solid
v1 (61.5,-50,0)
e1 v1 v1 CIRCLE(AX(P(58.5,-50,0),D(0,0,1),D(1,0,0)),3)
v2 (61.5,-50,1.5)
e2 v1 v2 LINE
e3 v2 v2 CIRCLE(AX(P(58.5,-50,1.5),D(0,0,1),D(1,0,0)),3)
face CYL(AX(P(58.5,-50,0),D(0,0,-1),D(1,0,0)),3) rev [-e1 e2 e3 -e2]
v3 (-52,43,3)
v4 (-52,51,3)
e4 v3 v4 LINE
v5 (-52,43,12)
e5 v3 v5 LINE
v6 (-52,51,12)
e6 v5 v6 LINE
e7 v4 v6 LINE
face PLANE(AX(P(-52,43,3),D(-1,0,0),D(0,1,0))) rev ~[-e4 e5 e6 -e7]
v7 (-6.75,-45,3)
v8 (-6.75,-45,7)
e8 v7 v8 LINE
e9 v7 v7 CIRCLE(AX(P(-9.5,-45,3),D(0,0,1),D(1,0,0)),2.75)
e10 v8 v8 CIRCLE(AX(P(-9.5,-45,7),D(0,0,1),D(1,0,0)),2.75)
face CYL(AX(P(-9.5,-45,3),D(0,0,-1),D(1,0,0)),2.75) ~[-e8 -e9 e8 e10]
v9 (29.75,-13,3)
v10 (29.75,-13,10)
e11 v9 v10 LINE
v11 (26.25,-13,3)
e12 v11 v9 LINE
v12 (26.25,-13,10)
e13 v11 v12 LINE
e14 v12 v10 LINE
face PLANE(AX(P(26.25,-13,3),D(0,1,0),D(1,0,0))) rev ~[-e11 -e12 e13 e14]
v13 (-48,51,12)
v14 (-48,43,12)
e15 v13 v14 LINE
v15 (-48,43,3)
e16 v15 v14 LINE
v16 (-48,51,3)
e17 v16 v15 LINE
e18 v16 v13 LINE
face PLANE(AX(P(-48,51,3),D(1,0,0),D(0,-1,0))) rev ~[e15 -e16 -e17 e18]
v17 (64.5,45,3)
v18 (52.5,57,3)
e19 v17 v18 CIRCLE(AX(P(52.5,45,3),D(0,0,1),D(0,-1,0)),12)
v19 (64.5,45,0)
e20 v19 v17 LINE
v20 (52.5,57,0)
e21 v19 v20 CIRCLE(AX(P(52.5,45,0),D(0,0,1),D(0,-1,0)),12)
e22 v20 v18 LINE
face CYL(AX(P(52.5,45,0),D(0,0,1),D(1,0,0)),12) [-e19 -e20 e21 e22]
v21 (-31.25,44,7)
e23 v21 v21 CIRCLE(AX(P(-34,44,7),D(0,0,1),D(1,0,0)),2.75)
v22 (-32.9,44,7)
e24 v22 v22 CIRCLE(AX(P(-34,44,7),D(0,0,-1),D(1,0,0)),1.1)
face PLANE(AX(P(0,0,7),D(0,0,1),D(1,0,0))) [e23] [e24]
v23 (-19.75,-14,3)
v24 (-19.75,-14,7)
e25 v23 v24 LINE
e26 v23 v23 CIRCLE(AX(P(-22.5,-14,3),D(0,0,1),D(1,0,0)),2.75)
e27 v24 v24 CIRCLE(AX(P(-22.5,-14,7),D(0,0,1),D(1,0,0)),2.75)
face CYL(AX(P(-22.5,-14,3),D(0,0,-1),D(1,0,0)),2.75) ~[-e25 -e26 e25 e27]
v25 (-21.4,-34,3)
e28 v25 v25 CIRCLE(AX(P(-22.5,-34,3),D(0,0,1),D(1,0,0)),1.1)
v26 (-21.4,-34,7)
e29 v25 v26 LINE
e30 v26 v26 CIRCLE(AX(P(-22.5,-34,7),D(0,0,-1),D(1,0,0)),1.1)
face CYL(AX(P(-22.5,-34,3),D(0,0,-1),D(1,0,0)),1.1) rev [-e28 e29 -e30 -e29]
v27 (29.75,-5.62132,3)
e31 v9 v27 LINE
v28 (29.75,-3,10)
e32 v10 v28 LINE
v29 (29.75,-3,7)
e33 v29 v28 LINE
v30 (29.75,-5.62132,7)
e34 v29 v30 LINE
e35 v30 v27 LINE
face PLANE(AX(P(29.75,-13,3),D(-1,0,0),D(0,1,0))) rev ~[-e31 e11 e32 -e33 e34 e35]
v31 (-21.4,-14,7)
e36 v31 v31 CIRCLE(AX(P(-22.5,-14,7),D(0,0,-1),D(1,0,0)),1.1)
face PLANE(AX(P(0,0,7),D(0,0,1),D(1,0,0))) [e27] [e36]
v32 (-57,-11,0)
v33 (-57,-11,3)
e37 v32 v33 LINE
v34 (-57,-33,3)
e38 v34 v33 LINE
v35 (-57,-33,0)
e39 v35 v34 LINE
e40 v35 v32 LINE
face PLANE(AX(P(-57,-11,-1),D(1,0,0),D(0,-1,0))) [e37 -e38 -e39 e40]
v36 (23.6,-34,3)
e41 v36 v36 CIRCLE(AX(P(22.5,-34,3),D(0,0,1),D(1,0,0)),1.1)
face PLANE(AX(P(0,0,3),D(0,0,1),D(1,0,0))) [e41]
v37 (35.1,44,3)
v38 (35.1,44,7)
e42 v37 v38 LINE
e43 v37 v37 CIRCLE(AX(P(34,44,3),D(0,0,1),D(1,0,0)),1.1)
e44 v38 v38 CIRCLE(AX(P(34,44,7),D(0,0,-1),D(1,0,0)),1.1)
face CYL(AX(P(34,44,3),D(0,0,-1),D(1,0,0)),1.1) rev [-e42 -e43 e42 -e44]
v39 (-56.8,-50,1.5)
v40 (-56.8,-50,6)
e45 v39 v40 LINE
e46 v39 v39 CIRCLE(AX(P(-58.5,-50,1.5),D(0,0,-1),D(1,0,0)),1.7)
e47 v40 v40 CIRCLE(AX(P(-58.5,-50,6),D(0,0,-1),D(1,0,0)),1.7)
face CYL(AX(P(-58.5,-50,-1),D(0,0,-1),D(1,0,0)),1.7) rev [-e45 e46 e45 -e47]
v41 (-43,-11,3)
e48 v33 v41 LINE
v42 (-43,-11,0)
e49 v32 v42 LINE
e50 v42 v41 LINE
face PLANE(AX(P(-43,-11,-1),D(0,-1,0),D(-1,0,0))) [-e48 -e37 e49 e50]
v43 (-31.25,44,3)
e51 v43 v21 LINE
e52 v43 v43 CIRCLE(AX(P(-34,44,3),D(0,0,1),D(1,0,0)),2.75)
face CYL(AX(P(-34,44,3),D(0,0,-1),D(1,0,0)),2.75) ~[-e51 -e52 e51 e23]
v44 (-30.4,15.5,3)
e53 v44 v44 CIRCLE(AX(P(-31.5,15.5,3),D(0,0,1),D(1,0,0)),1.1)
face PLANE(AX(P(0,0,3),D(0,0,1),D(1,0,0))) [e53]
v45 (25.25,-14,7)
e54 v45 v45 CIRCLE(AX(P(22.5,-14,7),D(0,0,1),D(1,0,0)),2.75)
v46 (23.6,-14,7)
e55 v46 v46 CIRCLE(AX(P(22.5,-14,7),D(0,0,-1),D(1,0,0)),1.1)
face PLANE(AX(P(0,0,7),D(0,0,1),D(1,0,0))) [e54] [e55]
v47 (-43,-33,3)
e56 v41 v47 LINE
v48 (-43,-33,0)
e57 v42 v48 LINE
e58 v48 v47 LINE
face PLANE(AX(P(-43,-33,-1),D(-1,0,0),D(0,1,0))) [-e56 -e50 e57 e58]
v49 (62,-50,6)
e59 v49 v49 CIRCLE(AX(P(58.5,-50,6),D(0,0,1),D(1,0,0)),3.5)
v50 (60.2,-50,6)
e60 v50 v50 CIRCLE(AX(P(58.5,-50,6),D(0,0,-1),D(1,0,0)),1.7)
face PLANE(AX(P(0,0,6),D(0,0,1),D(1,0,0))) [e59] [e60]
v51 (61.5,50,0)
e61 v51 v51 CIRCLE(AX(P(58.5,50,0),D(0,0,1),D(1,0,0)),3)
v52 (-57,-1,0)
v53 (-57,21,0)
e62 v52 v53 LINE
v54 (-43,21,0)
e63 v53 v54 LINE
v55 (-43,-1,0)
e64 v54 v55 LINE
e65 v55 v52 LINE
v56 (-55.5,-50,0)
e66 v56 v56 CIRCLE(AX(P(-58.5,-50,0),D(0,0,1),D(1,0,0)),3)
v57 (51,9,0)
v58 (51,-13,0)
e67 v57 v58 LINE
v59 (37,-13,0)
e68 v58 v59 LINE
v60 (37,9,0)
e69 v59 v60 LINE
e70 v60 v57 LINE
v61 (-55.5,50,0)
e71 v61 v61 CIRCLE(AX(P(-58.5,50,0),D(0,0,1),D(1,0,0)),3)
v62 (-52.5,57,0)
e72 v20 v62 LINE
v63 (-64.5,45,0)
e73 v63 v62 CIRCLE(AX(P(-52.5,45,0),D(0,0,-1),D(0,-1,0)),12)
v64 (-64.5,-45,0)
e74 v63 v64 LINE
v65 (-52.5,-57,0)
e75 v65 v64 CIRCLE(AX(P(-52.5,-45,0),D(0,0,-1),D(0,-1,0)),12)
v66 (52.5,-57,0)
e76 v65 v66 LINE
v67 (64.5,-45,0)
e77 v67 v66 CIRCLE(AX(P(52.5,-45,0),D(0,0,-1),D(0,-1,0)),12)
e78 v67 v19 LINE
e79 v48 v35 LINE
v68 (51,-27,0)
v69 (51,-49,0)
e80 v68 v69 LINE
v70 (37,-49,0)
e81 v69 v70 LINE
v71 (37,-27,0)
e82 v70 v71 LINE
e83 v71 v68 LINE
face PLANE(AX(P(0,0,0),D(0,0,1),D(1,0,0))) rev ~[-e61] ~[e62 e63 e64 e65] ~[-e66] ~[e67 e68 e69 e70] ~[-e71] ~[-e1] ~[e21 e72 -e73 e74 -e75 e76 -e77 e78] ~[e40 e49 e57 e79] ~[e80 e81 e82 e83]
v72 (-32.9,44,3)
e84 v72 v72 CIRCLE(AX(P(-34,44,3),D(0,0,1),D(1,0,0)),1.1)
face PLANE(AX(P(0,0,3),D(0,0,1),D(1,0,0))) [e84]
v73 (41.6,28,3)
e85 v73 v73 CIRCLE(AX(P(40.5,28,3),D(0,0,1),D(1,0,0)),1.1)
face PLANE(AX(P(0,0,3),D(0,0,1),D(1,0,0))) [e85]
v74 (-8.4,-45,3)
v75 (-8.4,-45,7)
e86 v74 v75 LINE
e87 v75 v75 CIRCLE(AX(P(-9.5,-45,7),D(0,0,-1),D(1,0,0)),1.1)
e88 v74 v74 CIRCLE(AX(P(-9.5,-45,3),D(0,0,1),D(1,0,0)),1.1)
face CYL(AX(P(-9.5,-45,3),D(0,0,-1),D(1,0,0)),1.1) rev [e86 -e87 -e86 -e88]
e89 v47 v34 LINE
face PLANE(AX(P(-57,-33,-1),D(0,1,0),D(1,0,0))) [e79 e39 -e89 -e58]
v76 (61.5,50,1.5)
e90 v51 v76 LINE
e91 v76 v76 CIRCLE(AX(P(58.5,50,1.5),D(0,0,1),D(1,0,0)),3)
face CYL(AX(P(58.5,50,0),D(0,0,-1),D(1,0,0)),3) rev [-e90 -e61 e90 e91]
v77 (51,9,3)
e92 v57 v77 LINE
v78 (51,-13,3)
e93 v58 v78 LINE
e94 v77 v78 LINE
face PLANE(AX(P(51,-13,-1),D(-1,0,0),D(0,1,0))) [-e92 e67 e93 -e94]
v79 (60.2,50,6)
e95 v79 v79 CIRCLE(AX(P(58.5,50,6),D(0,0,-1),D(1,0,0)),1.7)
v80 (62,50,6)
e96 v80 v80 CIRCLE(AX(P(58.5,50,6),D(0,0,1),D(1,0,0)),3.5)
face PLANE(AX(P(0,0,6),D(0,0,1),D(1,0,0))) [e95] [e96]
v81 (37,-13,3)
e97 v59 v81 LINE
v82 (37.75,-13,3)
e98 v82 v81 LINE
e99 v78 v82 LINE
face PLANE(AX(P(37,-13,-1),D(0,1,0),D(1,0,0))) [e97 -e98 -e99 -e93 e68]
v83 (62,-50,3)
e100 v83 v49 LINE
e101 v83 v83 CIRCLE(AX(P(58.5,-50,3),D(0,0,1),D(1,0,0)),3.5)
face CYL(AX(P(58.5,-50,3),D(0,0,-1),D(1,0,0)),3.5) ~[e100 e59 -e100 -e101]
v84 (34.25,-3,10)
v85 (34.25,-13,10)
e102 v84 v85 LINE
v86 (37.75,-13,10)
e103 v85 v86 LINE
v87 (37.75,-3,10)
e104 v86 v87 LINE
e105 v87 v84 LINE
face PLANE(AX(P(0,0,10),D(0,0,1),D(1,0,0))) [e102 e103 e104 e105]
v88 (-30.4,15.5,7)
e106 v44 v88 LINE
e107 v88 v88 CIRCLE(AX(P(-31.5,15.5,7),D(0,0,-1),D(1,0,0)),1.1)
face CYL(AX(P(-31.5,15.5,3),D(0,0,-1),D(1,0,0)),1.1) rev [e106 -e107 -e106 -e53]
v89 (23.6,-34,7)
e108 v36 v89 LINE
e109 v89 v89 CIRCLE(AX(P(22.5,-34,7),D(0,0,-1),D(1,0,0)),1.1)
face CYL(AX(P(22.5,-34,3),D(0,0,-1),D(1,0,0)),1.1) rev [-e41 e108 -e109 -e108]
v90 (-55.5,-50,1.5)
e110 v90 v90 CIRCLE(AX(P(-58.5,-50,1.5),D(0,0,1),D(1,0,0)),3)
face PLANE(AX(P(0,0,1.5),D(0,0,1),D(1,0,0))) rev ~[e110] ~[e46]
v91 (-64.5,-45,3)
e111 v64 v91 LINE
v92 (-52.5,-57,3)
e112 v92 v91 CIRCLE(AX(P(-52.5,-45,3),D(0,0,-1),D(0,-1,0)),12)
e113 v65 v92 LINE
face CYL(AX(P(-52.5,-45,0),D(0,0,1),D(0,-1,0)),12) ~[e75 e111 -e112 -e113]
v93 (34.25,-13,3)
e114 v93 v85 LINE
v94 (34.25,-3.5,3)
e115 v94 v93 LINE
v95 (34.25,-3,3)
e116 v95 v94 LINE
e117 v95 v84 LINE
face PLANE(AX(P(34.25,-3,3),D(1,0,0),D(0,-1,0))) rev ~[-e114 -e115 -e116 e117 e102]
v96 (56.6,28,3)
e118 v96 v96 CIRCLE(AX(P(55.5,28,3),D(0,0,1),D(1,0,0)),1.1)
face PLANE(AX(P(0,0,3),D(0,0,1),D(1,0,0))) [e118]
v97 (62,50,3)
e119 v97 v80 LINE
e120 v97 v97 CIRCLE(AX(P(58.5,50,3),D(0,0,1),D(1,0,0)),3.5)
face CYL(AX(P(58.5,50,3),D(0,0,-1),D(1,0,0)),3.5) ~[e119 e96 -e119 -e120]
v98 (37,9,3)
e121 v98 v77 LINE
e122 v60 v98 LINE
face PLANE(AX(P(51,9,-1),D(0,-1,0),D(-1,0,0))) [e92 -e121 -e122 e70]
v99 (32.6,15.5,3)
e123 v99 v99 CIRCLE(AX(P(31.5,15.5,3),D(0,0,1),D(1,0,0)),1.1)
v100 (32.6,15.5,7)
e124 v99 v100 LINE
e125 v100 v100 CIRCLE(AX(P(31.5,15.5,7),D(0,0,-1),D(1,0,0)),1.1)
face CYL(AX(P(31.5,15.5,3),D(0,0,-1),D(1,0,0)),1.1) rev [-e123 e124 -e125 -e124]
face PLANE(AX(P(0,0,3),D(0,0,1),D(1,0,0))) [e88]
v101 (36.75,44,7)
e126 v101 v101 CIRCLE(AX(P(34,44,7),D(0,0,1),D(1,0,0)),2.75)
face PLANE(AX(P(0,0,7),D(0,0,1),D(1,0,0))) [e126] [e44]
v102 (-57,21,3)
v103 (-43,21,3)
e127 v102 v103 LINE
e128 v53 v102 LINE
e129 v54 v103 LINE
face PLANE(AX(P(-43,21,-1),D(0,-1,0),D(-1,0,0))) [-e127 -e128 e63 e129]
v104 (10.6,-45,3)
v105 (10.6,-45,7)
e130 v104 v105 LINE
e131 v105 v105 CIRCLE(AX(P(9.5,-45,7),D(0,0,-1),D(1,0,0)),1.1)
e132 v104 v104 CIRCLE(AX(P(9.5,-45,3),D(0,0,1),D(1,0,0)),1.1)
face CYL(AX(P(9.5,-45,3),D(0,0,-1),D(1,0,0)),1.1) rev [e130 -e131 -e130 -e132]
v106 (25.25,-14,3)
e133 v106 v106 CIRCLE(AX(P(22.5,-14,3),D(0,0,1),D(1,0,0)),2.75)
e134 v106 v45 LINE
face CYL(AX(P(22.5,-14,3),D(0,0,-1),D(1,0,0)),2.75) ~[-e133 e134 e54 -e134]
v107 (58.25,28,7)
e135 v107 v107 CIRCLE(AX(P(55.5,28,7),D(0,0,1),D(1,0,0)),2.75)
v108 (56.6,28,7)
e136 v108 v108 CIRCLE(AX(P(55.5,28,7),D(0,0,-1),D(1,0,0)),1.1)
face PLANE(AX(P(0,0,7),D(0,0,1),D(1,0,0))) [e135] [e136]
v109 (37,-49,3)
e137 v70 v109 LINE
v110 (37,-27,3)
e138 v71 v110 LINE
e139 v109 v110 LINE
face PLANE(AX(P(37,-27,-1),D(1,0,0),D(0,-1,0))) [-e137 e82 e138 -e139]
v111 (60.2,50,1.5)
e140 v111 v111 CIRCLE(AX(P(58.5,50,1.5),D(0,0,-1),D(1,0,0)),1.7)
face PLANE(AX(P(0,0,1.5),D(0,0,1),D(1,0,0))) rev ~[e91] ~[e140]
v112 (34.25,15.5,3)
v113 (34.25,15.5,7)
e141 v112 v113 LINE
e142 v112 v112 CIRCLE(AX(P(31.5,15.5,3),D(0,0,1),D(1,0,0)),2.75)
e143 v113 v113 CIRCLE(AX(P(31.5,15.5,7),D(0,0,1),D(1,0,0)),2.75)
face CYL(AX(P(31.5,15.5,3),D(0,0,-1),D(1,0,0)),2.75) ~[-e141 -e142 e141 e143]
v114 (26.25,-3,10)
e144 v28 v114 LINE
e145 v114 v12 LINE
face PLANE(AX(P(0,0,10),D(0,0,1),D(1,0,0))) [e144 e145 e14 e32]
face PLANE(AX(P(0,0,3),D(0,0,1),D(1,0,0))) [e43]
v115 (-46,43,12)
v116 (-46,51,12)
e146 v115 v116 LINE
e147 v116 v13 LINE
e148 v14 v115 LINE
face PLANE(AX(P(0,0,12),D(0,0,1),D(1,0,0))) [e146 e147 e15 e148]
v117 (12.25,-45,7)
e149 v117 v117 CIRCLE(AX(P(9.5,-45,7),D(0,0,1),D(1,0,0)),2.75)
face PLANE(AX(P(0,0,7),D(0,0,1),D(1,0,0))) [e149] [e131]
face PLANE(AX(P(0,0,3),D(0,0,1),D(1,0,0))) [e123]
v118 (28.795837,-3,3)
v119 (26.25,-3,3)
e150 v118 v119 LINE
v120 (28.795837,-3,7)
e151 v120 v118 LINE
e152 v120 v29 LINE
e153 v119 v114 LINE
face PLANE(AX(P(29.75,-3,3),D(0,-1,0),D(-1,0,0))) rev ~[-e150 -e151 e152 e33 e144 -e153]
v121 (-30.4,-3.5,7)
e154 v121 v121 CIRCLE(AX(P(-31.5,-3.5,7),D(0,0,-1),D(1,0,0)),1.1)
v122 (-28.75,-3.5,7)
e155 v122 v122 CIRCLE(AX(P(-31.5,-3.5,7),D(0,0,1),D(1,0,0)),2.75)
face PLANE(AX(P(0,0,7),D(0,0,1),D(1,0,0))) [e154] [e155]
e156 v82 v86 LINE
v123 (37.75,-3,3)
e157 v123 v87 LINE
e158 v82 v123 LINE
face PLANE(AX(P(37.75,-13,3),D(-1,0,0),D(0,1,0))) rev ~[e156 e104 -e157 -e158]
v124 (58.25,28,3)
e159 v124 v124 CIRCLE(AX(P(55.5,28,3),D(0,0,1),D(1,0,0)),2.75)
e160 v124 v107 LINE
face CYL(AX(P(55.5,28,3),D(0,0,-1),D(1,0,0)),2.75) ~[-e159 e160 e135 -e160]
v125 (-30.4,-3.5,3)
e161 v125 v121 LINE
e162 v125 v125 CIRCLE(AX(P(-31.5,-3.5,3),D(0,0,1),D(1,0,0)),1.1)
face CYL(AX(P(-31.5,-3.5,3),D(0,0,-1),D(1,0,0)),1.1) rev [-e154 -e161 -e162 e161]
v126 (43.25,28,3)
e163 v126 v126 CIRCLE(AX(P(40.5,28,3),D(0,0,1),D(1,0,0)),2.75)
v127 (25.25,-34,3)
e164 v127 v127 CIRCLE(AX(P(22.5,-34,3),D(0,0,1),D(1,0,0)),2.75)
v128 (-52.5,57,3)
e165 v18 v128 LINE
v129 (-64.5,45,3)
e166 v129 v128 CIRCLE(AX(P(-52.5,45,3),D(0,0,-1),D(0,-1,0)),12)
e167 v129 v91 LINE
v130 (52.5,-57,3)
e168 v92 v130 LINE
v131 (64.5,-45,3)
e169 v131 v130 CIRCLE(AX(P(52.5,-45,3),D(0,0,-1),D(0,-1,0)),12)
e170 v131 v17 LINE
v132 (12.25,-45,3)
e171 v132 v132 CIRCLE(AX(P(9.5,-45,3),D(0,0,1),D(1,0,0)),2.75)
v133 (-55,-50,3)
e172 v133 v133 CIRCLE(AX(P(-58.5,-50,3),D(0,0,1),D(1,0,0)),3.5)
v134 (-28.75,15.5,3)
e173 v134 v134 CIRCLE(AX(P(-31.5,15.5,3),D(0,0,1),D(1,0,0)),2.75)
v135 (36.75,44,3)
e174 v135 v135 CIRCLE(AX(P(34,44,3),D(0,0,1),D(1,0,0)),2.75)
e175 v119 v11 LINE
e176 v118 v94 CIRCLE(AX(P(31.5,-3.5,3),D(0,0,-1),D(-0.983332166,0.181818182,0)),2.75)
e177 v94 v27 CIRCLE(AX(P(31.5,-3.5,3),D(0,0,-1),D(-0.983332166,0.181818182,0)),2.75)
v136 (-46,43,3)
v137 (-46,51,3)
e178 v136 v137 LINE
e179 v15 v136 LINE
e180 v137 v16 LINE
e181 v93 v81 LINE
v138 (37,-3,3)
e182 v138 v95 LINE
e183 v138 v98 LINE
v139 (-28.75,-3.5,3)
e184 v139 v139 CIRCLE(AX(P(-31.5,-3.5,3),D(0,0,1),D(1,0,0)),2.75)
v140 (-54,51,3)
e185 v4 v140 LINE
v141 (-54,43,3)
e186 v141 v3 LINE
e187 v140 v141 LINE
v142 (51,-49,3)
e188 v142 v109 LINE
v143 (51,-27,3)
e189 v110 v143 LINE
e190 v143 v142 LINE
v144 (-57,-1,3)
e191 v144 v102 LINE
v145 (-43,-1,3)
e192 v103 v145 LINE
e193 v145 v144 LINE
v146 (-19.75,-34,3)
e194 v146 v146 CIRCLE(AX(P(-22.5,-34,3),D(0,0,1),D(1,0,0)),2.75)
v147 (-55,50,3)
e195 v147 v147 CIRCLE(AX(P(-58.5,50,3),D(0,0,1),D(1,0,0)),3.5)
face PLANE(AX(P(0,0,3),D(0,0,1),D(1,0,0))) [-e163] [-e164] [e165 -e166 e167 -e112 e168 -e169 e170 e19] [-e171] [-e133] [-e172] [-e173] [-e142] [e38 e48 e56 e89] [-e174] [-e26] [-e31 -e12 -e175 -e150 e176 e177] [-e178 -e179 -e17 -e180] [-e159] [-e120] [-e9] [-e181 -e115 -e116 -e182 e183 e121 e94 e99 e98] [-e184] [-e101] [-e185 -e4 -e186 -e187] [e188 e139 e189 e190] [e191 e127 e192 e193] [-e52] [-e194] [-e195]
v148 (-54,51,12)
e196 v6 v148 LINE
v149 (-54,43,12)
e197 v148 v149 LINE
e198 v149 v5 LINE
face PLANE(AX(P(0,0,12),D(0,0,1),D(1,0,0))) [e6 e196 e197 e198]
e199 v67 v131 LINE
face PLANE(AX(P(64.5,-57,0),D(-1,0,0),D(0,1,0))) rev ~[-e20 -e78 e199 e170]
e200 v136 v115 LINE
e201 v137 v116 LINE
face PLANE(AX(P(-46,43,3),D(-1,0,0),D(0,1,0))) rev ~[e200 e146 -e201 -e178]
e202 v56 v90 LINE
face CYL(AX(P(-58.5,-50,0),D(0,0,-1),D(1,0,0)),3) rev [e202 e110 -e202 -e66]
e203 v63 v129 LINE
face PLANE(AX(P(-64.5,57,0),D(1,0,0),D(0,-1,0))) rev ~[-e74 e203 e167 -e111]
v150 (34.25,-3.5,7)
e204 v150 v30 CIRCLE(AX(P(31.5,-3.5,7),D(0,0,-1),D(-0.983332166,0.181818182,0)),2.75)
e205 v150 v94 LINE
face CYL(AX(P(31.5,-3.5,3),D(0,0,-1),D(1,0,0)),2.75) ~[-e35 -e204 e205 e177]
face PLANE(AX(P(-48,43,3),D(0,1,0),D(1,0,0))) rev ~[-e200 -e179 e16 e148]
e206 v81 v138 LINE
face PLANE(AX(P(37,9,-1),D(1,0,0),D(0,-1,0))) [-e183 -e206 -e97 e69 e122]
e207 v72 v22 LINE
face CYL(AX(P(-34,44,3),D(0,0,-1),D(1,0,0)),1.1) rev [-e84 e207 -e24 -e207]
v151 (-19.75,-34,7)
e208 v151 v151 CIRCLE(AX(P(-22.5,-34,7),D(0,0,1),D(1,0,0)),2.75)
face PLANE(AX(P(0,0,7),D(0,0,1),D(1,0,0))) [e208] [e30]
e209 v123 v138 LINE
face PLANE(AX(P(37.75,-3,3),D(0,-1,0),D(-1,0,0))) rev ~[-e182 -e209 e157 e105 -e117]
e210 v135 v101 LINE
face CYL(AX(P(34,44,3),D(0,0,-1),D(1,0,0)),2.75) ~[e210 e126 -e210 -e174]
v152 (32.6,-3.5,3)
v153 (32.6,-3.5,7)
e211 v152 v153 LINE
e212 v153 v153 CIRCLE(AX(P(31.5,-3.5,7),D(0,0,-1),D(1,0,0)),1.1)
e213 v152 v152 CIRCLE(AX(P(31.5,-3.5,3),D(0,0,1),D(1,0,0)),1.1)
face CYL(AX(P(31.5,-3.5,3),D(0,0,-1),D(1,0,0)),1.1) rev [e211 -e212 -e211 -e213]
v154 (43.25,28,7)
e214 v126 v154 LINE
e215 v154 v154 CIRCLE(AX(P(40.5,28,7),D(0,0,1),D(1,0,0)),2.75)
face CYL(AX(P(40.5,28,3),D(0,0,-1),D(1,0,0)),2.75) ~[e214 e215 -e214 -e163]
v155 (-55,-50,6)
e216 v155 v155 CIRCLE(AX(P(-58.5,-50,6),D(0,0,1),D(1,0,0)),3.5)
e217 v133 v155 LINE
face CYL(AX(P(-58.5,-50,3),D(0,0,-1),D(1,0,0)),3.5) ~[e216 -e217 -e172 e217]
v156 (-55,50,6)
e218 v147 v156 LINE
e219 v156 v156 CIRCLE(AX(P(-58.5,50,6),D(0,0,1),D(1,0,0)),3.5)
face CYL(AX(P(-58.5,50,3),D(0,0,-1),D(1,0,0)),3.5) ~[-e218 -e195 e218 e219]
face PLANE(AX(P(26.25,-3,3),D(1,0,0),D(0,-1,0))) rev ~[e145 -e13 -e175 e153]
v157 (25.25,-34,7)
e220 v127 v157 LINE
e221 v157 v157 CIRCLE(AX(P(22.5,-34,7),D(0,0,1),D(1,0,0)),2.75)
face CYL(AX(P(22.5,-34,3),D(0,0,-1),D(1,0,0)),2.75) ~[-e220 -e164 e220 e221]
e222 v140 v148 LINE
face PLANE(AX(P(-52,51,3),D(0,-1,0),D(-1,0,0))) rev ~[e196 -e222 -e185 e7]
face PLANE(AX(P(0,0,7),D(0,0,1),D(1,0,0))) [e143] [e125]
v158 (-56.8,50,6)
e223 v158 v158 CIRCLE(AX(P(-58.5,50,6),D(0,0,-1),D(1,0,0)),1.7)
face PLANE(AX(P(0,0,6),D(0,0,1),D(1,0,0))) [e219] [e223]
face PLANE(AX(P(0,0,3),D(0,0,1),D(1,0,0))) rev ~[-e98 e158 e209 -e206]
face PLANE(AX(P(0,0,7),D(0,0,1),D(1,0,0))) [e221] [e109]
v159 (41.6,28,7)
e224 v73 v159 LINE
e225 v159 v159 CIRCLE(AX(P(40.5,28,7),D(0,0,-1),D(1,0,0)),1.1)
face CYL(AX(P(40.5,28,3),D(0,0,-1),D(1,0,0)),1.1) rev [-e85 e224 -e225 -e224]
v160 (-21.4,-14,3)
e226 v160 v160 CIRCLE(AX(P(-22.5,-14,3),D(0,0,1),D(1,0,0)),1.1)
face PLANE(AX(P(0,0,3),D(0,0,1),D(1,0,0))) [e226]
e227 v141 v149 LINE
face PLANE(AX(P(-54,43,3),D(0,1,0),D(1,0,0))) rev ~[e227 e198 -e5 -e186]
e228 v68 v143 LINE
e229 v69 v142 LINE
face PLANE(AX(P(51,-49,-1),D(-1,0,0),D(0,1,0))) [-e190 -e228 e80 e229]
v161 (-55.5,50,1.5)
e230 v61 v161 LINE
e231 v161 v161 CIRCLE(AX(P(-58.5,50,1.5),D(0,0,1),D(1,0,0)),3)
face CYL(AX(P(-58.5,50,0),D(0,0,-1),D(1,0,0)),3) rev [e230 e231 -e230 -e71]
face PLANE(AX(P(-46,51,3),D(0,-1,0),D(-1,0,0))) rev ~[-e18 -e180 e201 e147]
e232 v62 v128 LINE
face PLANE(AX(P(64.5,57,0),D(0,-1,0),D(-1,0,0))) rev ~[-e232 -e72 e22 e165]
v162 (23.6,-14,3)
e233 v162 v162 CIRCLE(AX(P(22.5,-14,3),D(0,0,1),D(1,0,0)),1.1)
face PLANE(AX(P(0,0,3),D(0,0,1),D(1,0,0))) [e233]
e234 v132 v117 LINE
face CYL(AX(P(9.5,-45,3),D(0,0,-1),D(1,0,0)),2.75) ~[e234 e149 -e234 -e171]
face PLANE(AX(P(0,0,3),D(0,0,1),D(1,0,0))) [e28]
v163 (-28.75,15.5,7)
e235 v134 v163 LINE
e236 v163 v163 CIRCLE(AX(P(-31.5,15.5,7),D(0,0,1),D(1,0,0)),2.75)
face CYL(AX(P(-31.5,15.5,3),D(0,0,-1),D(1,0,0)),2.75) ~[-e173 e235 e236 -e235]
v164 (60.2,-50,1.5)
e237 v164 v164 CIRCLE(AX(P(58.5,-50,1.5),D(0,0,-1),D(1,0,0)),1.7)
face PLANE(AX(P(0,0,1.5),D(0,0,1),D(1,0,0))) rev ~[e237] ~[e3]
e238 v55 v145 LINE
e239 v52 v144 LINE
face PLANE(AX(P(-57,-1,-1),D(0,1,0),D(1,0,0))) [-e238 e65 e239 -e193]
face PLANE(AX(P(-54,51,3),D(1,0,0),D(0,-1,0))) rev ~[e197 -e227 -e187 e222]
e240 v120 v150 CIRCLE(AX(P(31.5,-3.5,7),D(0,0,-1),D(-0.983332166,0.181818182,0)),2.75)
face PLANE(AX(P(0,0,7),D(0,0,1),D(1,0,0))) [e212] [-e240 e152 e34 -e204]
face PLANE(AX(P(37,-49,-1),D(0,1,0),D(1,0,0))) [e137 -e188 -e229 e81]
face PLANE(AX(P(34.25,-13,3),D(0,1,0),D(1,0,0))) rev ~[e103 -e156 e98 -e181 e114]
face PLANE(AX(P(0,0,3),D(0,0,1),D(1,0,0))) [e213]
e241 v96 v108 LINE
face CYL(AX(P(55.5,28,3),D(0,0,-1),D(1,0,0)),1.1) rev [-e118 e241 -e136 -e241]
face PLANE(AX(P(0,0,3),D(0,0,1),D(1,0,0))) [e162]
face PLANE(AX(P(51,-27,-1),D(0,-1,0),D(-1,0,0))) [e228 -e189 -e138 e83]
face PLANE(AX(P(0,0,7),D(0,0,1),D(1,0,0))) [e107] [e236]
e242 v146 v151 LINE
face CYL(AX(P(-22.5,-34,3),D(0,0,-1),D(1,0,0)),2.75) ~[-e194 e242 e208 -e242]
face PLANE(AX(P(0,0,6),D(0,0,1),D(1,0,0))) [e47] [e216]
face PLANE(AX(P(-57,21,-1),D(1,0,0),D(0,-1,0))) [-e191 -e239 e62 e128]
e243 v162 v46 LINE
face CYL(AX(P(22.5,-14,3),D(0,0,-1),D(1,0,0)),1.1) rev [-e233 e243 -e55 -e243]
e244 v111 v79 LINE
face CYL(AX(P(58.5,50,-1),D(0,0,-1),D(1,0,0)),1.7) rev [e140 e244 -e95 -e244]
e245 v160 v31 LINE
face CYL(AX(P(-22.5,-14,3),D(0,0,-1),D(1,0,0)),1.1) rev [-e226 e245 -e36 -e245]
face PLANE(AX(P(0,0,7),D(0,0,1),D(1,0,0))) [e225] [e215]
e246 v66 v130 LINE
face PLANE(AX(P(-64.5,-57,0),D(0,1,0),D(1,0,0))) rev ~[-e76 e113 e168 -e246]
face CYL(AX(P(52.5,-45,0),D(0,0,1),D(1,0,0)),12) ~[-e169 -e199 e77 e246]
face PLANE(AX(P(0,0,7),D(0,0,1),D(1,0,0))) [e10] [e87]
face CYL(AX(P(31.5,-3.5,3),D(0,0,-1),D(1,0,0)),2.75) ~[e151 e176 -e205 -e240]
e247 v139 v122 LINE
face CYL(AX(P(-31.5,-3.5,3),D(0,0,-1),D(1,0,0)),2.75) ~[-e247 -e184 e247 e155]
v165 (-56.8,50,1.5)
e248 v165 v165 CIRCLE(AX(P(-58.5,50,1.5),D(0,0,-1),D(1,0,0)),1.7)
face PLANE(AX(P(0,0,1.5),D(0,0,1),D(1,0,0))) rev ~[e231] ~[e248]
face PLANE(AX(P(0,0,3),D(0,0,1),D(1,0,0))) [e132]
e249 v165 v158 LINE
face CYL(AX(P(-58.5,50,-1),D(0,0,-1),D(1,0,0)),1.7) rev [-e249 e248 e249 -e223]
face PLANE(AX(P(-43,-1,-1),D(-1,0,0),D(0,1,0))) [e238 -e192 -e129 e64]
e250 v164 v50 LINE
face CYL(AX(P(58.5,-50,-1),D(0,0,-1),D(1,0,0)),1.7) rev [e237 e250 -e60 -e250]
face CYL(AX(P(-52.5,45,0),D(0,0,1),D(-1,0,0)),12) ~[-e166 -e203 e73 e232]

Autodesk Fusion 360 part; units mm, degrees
sketch "Sketch1" plane through (0, 0, 0) normal (0, 0, 1) x (1, 0, 0)
  line L0 (64.5, 57) -> (-64.5, 57)
  line L1 (-64.5, 57) -> (-64.5, -57)
  line L2 (-64.5, -57) -> (64.5, -57)
  line L3 (64.5, -57) -> (64.5, 57)
extrude "Extrude1" add sketch "Sketch1" along normal blind 3
fillet "Fillet1" radius 12 4 edges at (64.5, -57, 1.5) (-64.5, -57, 1.5) (-64.5, 57, 1.5) (64.5, 57, 1.5)
sketch "Sketch2" plane through (0, 0, 0) normal (0, 0, 1) x (1, 0, 0)
  line L0 (-43, 21) -> (-57, 21)
  line L1 (-57, 21) -> (-57, -1)
  line L2 (-57, -1) -> (-43, -1)
  line L3 (-43, -1) -> (-43, 21)
extrude "Extrude2" cut sketch "Sketch2" along normal blind 5 from surface at -1
sketch "Sketch3" plane through (0, 0, 0) normal (0, 0, 1) x (1, 0, 0)
  line L0 (-43, -11) -> (-57, -11)
  line L1 (-57, -11) -> (-57, -33)
  line L2 (-57, -33) -> (-43, -33)
  line L3 (-43, -33) -> (-43, -11)
extrude "Extrude3" cut sketch "Sketch3" along normal blind 5 from surface at -1
sketch "Sketch4" plane through (0, 0, 0) normal (0, 0, 1) x (1, 0, 0)
  line L0 (51, -27) -> (37, -27)
  line L1 (37, -27) -> (37, -49)
  line L2 (37, -49) -> (51, -49)
  line L3 (51, -49) -> (51, -27)
extrude "Extrude4" cut sketch "Sketch4" along normal blind 5 from surface at -1
sketch "Sketch5" plane through (0, 0, 0) normal (0, 0, 1) x (1, 0, 0)
  line L0 (51, 9) -> (37, 9)
  line L1 (37, 9) -> (37, -13)
  line L2 (37, -13) -> (51, -13)
  line L3 (51, -13) -> (51, 9)
extrude "Extrude5" cut sketch "Sketch5" along normal blind 5 from surface at -1
sketch "Sketch6" plane through (0, 0, 0) normal (0, 0, 1) x (1, 0, 0)
  circle A0 centre (-58.5, 50) radius 3.5
extrude "Extrude6" add sketch "Sketch6" along normal blind 3 from surface at 3
sketch "Sketch7" plane through (0, 0, 0) normal (0, 0, 1) x (1, 0, 0)
  circle A0 centre (-58.5, 50) radius 1.7
extrude "Extrude7" cut sketch "Sketch7" along normal blind 8 from surface at -1
sketch "Sketch8" plane through (0, 0, 0) normal (0, 0, 1) x (1, 0, 0)
  circle A0 centre (-58.5, 50) radius 3
extrude "Extrude8" cut sketch "Sketch8" along normal blind 1.5
sketch "Sketch9" plane through (0, 0, 0) normal (0, 0, 1) x (1, 0, 0)
  circle A0 centre (58.5, 50) radius 3.5
extrude "Extrude9" add sketch "Sketch9" along normal blind 3 from surface at 3
sketch "Sketch10" plane through (0, 0, 0) normal (0, 0, 1) x (1, 0, 0)
  circle A0 centre (58.5, 50) radius 1.7
extrude "Extrude10" cut sketch "Sketch10" along normal blind 8 from surface at -1
sketch "Sketch11" plane through (0, 0, 0) normal (0, 0, 1) x (1, 0, 0)
  circle A0 centre (58.5, 50) radius 3
extrude "Extrude11" cut sketch "Sketch11" along normal blind 1.5
sketch "Sketch12" plane through (0, 0, 0) normal (0, 0, 1) x (1, 0, 0)
  circle A0 centre (-58.5, -50) radius 3.5
extrude "Extrude12" add sketch "Sketch12" along normal blind 3 from surface at 3
sketch "Sketch13" plane through (0, 0, 0) normal (0, 0, 1) x (1, 0, 0)
  circle A0 centre (-58.5, -50) radius 1.7
extrude "Extrude13" cut sketch "Sketch13" along normal blind 8 from surface at -1
sketch "Sketch14" plane through (0, 0, 0) normal (0, 0, 1) x (1, 0, 0)
  circle A0 centre (-58.5, -50) radius 3
extrude "Extrude14" cut sketch "Sketch14" along normal blind 1.5
sketch "Sketch15" plane through (0, 0, 0) normal (0, 0, 1) x (1, 0, 0)
  circle A0 centre (58.5, -50) radius 3.5
extrude "Extrude15" add sketch "Sketch15" along normal blind 3 from surface at 3
sketch "Sketch16" plane through (0, 0, 0) normal (0, 0, 1) x (1, 0, 0)
  circle A0 centre (58.5, -50) radius 1.7
extrude "Extrude16" cut sketch "Sketch16" along normal blind 8 from surface at -1
sketch "Sketch17" plane through (0, 0, 0) normal (0, 0, 1) x (1, 0, 0)
  circle A0 centre (58.5, -50) radius 3
extrude "Extrude17" cut sketch "Sketch17" along normal blind 1.5
sketch "Sketch18" plane through (0, 0, 0) normal (0, 0, 1) x (1, 0, 0)
  circle A0 centre (-31.5, -3.5) radius 2.75
extrude "Extrude18" add sketch "Sketch18" along normal blind 4 from surface at 3
sketch "Sketch19" plane through (0, 0, 0) normal (0, 0, 1) x (1, 0, 0)
  circle A0 centre (-31.5, -3.5) radius 1.1
extrude "Extrude19" cut sketch "Sketch19" along normal blind 5 from surface at 3
sketch "Sketch20" plane through (0, 0, 0) normal (0, 0, 1) x (1, 0, 0)
  circle A0 centre (31.5, -3.5) radius 2.75
extrude "Extrude20" add sketch "Sketch20" along normal blind 4 from surface at 3
sketch "Sketch21" plane through (0, 0, 0) normal (0, 0, 1) x (1, 0, 0)
  circle A0 centre (31.5, -3.5) radius 1.1
extrude "Extrude21" cut sketch "Sketch21" along normal blind 5 from surface at 3
sketch "Sketch22" plane through (0, 0, 0) normal (0, 0, 1) x (1, 0, 0)
  circle A0 centre (-31.5, 15.5) radius 2.75
extrude "Extrude22" add sketch "Sketch22" along normal blind 4 from surface at 3
sketch "Sketch23" plane through (0, 0, 0) normal (0, 0, 1) x (1, 0, 0)
  circle A0 centre (-31.5, 15.5) radius 1.1
extrude "Extrude23" cut sketch "Sketch23" along normal blind 5 from surface at 3
sketch "Sketch24" plane through (0, 0, 0) normal (0, 0, 1) x (1, 0, 0)
  circle A0 centre (31.5, 15.5) radius 2.75
extrude "Extrude24" add sketch "Sketch24" along normal blind 4 from surface at 3
sketch "Sketch25" plane through (0, 0, 0) normal (0, 0, 1) x (1, 0, 0)
  circle A0 centre (31.5, 15.5) radius 1.1
extrude "Extrude25" cut sketch "Sketch25" along normal blind 5 from surface at 3
sketch "Sketch26" plane through (0, 0, 0) normal (0, 0, 1) x (1, 0, 0)
  circle A0 centre (-22.5, -34) radius 2.75
extrude "Extrude26" add sketch "Sketch26" along normal blind 4 from surface at 3
sketch "Sketch27" plane through (0, 0, 0) normal (0, 0, 1) x (1, 0, 0)
  circle A0 centre (-22.5, -34) radius 1.1
extrude "Extrude27" cut sketch "Sketch27" along normal blind 5 from surface at 3
sketch "Sketch28" plane through (0, 0, 0) normal (0, 0, 1) x (1, 0, 0)
  circle A0 centre (22.5, -34) radius 2.75
extrude "Extrude28" add sketch "Sketch28" along normal blind 4 from surface at 3
sketch "Sketch29" plane through (0, 0, 0) normal (0, 0, 1) x (1, 0, 0)
  circle A0 centre (22.5, -34) radius 1.1
extrude "Extrude29" cut sketch "Sketch29" along normal blind 5 from surface at 3
sketch "Sketch30" plane through (0, 0, 0) normal (0, 0, 1) x (1, 0, 0)
  circle A0 centre (-22.5, -14) radius 2.75
extrude "Extrude30" add sketch "Sketch30" along normal blind 4 from surface at 3
sketch "Sketch31" plane through (0, 0, 0) normal (0, 0, 1) x (1, 0, 0)
  circle A0 centre (-22.5, -14) radius 1.1
extrude "Extrude31" cut sketch "Sketch31" along normal blind 5 from surface at 3
sketch "Sketch32" plane through (0, 0, 0) normal (0, 0, 1) x (1, 0, 0)
  circle A0 centre (22.5, -14) radius 2.75
extrude "Extrude32" add sketch "Sketch32" along normal blind 4 from surface at 3
sketch "Sketch33" plane through (0, 0, 0) normal (0, 0, 1) x (1, 0, 0)
  circle A0 centre (22.5, -14) radius 1.1
extrude "Extrude33" cut sketch "Sketch33" along normal blind 5 from surface at 3
sketch "Sketch34" plane through (0, 0, 0) normal (0, 0, 1) x (1, 0, 0)
  circle A0 centre (-34, 44) radius 2.75
extrude "Extrude34" add sketch "Sketch34" along normal blind 4 from surface at 3
sketch "Sketch35" plane through (0, 0, 0) normal (0, 0, 1) x (1, 0, 0)
  circle A0 centre (-34, 44) radius 1.1
extrude "Extrude35" cut sketch "Sketch35" along normal blind 5 from surface at 3
sketch "Sketch36" plane through (0, 0, 0) normal (0, 0, 1) x (1, 0, 0)
  circle A0 centre (34, 44) radius 2.75
extrude "Extrude36" add sketch "Sketch36" along normal blind 4 from surface at 3
sketch "Sketch37" plane through (0, 0, 0) normal (0, 0, 1) x (1, 0, 0)
  circle A0 centre (34, 44) radius 1.1
extrude "Extrude37" cut sketch "Sketch37" along normal blind 5 from surface at 3
sketch "Sketch38" plane through (0, 0, 0) normal (0, 0, 1) x (1, 0, 0)
  circle A0 centre (-9.5, -45) radius 2.75
extrude "Extrude38" add sketch "Sketch38" along normal blind 4 from surface at 3
sketch "Sketch39" plane through (0, 0, 0) normal (0, 0, 1) x (1, 0, 0)
  circle A0 centre (-9.5, -45) radius 1.1
extrude "Extrude39" cut sketch "Sketch39" along normal blind 5 from surface at 3
sketch "Sketch40" plane through (0, 0, 0) normal (0, 0, 1) x (1, 0, 0)
  circle A0 centre (9.5, -45) radius 2.75
extrude "Extrude40" add sketch "Sketch40" along normal blind 4 from surface at 3
sketch "Sketch41" plane through (0, 0, 0) normal (0, 0, 1) x (1, 0, 0)
  circle A0 centre (9.5, -45) radius 1.1
extrude "Extrude41" cut sketch "Sketch41" along normal blind 5 from surface at 3
sketch "Sketch42" plane through (0, 0, 0) normal (0, 0, 1) x (1, 0, 0)
  circle A0 centre (40.5, 28) radius 2.75
extrude "Extrude42" add sketch "Sketch42" along normal blind 4 from surface at 3
sketch "Sketch43" plane through (0, 0, 0) normal (0, 0, 1) x (1, 0, 0)
  circle A0 centre (40.5, 28) radius 1.1
extrude "Extrude43" cut sketch "Sketch43" along normal blind 5 from surface at 3
sketch "Sketch44" plane through (0, 0, 0) normal (0, 0, 1) x (1, 0, 0)
  circle A0 centre (55.5, 28) radius 2.75
extrude "Extrude44" add sketch "Sketch44" along normal blind 4 from surface at 3
sketch "Sketch45" plane through (0, 0, 0) normal (0, 0, 1) x (1, 0, 0)
  circle A0 centre (55.5, 28) radius 1.1
extrude "Extrude45" cut sketch "Sketch45" along normal blind 5 from surface at 3
sketch "Sketch46" plane through (0, 0, 0) normal (0, 0, 1) x (1, 0, 0)
  line L0 (-52, 51) -> (-54, 51)
  line L1 (-54, 51) -> (-54, 43)
  line L2 (-54, 43) -> (-52, 43)
  line L3 (-52, 43) -> (-52, 51)
extrude "Extrude46" add sketch "Sketch46" along normal blind 9 from surface at 3
sketch "Sketch47" plane through (0, 0, 0) normal (0, 0, 1) x (1, 0, 0)
  line L0 (-46, 51) -> (-48, 51)
  line L1 (-48, 51) -> (-48, 43)
  line L2 (-48, 43) -> (-46, 43)
  line L3 (-46, 43) -> (-46, 51)
extrude "Extrude47" add sketch "Sketch47" along normal blind 9 from surface at 3
sketch "Sketch48" plane through (0, 0, 0) normal (0, 0, 1) x (1, 0, 0)
  line L0 (29.75, -3) -> (26.25, -3)
  line L1 (26.25, -3) -> (26.25, -13)
  line L2 (26.25, -13) -> (29.75, -13)
  line L3 (29.75, -13) -> (29.75, -3)
extrude "Extrude48" add sketch "Sketch48" along normal blind 7 from surface at 3
sketch "Sketch49" plane through (0, 0, 0) normal (0, 0, 1) x (1, 0, 0)
  line L0 (37.75, -3) -> (34.25, -3)
  line L1 (34.25, -3) -> (34.25, -13)
  line L2 (34.25, -13) -> (37.75, -13)
  line L3 (37.75, -13) -> (37.75, -3)
extrude "Extrude49" add sketch "Sketch49" along normal blind 7 from surface at 3
